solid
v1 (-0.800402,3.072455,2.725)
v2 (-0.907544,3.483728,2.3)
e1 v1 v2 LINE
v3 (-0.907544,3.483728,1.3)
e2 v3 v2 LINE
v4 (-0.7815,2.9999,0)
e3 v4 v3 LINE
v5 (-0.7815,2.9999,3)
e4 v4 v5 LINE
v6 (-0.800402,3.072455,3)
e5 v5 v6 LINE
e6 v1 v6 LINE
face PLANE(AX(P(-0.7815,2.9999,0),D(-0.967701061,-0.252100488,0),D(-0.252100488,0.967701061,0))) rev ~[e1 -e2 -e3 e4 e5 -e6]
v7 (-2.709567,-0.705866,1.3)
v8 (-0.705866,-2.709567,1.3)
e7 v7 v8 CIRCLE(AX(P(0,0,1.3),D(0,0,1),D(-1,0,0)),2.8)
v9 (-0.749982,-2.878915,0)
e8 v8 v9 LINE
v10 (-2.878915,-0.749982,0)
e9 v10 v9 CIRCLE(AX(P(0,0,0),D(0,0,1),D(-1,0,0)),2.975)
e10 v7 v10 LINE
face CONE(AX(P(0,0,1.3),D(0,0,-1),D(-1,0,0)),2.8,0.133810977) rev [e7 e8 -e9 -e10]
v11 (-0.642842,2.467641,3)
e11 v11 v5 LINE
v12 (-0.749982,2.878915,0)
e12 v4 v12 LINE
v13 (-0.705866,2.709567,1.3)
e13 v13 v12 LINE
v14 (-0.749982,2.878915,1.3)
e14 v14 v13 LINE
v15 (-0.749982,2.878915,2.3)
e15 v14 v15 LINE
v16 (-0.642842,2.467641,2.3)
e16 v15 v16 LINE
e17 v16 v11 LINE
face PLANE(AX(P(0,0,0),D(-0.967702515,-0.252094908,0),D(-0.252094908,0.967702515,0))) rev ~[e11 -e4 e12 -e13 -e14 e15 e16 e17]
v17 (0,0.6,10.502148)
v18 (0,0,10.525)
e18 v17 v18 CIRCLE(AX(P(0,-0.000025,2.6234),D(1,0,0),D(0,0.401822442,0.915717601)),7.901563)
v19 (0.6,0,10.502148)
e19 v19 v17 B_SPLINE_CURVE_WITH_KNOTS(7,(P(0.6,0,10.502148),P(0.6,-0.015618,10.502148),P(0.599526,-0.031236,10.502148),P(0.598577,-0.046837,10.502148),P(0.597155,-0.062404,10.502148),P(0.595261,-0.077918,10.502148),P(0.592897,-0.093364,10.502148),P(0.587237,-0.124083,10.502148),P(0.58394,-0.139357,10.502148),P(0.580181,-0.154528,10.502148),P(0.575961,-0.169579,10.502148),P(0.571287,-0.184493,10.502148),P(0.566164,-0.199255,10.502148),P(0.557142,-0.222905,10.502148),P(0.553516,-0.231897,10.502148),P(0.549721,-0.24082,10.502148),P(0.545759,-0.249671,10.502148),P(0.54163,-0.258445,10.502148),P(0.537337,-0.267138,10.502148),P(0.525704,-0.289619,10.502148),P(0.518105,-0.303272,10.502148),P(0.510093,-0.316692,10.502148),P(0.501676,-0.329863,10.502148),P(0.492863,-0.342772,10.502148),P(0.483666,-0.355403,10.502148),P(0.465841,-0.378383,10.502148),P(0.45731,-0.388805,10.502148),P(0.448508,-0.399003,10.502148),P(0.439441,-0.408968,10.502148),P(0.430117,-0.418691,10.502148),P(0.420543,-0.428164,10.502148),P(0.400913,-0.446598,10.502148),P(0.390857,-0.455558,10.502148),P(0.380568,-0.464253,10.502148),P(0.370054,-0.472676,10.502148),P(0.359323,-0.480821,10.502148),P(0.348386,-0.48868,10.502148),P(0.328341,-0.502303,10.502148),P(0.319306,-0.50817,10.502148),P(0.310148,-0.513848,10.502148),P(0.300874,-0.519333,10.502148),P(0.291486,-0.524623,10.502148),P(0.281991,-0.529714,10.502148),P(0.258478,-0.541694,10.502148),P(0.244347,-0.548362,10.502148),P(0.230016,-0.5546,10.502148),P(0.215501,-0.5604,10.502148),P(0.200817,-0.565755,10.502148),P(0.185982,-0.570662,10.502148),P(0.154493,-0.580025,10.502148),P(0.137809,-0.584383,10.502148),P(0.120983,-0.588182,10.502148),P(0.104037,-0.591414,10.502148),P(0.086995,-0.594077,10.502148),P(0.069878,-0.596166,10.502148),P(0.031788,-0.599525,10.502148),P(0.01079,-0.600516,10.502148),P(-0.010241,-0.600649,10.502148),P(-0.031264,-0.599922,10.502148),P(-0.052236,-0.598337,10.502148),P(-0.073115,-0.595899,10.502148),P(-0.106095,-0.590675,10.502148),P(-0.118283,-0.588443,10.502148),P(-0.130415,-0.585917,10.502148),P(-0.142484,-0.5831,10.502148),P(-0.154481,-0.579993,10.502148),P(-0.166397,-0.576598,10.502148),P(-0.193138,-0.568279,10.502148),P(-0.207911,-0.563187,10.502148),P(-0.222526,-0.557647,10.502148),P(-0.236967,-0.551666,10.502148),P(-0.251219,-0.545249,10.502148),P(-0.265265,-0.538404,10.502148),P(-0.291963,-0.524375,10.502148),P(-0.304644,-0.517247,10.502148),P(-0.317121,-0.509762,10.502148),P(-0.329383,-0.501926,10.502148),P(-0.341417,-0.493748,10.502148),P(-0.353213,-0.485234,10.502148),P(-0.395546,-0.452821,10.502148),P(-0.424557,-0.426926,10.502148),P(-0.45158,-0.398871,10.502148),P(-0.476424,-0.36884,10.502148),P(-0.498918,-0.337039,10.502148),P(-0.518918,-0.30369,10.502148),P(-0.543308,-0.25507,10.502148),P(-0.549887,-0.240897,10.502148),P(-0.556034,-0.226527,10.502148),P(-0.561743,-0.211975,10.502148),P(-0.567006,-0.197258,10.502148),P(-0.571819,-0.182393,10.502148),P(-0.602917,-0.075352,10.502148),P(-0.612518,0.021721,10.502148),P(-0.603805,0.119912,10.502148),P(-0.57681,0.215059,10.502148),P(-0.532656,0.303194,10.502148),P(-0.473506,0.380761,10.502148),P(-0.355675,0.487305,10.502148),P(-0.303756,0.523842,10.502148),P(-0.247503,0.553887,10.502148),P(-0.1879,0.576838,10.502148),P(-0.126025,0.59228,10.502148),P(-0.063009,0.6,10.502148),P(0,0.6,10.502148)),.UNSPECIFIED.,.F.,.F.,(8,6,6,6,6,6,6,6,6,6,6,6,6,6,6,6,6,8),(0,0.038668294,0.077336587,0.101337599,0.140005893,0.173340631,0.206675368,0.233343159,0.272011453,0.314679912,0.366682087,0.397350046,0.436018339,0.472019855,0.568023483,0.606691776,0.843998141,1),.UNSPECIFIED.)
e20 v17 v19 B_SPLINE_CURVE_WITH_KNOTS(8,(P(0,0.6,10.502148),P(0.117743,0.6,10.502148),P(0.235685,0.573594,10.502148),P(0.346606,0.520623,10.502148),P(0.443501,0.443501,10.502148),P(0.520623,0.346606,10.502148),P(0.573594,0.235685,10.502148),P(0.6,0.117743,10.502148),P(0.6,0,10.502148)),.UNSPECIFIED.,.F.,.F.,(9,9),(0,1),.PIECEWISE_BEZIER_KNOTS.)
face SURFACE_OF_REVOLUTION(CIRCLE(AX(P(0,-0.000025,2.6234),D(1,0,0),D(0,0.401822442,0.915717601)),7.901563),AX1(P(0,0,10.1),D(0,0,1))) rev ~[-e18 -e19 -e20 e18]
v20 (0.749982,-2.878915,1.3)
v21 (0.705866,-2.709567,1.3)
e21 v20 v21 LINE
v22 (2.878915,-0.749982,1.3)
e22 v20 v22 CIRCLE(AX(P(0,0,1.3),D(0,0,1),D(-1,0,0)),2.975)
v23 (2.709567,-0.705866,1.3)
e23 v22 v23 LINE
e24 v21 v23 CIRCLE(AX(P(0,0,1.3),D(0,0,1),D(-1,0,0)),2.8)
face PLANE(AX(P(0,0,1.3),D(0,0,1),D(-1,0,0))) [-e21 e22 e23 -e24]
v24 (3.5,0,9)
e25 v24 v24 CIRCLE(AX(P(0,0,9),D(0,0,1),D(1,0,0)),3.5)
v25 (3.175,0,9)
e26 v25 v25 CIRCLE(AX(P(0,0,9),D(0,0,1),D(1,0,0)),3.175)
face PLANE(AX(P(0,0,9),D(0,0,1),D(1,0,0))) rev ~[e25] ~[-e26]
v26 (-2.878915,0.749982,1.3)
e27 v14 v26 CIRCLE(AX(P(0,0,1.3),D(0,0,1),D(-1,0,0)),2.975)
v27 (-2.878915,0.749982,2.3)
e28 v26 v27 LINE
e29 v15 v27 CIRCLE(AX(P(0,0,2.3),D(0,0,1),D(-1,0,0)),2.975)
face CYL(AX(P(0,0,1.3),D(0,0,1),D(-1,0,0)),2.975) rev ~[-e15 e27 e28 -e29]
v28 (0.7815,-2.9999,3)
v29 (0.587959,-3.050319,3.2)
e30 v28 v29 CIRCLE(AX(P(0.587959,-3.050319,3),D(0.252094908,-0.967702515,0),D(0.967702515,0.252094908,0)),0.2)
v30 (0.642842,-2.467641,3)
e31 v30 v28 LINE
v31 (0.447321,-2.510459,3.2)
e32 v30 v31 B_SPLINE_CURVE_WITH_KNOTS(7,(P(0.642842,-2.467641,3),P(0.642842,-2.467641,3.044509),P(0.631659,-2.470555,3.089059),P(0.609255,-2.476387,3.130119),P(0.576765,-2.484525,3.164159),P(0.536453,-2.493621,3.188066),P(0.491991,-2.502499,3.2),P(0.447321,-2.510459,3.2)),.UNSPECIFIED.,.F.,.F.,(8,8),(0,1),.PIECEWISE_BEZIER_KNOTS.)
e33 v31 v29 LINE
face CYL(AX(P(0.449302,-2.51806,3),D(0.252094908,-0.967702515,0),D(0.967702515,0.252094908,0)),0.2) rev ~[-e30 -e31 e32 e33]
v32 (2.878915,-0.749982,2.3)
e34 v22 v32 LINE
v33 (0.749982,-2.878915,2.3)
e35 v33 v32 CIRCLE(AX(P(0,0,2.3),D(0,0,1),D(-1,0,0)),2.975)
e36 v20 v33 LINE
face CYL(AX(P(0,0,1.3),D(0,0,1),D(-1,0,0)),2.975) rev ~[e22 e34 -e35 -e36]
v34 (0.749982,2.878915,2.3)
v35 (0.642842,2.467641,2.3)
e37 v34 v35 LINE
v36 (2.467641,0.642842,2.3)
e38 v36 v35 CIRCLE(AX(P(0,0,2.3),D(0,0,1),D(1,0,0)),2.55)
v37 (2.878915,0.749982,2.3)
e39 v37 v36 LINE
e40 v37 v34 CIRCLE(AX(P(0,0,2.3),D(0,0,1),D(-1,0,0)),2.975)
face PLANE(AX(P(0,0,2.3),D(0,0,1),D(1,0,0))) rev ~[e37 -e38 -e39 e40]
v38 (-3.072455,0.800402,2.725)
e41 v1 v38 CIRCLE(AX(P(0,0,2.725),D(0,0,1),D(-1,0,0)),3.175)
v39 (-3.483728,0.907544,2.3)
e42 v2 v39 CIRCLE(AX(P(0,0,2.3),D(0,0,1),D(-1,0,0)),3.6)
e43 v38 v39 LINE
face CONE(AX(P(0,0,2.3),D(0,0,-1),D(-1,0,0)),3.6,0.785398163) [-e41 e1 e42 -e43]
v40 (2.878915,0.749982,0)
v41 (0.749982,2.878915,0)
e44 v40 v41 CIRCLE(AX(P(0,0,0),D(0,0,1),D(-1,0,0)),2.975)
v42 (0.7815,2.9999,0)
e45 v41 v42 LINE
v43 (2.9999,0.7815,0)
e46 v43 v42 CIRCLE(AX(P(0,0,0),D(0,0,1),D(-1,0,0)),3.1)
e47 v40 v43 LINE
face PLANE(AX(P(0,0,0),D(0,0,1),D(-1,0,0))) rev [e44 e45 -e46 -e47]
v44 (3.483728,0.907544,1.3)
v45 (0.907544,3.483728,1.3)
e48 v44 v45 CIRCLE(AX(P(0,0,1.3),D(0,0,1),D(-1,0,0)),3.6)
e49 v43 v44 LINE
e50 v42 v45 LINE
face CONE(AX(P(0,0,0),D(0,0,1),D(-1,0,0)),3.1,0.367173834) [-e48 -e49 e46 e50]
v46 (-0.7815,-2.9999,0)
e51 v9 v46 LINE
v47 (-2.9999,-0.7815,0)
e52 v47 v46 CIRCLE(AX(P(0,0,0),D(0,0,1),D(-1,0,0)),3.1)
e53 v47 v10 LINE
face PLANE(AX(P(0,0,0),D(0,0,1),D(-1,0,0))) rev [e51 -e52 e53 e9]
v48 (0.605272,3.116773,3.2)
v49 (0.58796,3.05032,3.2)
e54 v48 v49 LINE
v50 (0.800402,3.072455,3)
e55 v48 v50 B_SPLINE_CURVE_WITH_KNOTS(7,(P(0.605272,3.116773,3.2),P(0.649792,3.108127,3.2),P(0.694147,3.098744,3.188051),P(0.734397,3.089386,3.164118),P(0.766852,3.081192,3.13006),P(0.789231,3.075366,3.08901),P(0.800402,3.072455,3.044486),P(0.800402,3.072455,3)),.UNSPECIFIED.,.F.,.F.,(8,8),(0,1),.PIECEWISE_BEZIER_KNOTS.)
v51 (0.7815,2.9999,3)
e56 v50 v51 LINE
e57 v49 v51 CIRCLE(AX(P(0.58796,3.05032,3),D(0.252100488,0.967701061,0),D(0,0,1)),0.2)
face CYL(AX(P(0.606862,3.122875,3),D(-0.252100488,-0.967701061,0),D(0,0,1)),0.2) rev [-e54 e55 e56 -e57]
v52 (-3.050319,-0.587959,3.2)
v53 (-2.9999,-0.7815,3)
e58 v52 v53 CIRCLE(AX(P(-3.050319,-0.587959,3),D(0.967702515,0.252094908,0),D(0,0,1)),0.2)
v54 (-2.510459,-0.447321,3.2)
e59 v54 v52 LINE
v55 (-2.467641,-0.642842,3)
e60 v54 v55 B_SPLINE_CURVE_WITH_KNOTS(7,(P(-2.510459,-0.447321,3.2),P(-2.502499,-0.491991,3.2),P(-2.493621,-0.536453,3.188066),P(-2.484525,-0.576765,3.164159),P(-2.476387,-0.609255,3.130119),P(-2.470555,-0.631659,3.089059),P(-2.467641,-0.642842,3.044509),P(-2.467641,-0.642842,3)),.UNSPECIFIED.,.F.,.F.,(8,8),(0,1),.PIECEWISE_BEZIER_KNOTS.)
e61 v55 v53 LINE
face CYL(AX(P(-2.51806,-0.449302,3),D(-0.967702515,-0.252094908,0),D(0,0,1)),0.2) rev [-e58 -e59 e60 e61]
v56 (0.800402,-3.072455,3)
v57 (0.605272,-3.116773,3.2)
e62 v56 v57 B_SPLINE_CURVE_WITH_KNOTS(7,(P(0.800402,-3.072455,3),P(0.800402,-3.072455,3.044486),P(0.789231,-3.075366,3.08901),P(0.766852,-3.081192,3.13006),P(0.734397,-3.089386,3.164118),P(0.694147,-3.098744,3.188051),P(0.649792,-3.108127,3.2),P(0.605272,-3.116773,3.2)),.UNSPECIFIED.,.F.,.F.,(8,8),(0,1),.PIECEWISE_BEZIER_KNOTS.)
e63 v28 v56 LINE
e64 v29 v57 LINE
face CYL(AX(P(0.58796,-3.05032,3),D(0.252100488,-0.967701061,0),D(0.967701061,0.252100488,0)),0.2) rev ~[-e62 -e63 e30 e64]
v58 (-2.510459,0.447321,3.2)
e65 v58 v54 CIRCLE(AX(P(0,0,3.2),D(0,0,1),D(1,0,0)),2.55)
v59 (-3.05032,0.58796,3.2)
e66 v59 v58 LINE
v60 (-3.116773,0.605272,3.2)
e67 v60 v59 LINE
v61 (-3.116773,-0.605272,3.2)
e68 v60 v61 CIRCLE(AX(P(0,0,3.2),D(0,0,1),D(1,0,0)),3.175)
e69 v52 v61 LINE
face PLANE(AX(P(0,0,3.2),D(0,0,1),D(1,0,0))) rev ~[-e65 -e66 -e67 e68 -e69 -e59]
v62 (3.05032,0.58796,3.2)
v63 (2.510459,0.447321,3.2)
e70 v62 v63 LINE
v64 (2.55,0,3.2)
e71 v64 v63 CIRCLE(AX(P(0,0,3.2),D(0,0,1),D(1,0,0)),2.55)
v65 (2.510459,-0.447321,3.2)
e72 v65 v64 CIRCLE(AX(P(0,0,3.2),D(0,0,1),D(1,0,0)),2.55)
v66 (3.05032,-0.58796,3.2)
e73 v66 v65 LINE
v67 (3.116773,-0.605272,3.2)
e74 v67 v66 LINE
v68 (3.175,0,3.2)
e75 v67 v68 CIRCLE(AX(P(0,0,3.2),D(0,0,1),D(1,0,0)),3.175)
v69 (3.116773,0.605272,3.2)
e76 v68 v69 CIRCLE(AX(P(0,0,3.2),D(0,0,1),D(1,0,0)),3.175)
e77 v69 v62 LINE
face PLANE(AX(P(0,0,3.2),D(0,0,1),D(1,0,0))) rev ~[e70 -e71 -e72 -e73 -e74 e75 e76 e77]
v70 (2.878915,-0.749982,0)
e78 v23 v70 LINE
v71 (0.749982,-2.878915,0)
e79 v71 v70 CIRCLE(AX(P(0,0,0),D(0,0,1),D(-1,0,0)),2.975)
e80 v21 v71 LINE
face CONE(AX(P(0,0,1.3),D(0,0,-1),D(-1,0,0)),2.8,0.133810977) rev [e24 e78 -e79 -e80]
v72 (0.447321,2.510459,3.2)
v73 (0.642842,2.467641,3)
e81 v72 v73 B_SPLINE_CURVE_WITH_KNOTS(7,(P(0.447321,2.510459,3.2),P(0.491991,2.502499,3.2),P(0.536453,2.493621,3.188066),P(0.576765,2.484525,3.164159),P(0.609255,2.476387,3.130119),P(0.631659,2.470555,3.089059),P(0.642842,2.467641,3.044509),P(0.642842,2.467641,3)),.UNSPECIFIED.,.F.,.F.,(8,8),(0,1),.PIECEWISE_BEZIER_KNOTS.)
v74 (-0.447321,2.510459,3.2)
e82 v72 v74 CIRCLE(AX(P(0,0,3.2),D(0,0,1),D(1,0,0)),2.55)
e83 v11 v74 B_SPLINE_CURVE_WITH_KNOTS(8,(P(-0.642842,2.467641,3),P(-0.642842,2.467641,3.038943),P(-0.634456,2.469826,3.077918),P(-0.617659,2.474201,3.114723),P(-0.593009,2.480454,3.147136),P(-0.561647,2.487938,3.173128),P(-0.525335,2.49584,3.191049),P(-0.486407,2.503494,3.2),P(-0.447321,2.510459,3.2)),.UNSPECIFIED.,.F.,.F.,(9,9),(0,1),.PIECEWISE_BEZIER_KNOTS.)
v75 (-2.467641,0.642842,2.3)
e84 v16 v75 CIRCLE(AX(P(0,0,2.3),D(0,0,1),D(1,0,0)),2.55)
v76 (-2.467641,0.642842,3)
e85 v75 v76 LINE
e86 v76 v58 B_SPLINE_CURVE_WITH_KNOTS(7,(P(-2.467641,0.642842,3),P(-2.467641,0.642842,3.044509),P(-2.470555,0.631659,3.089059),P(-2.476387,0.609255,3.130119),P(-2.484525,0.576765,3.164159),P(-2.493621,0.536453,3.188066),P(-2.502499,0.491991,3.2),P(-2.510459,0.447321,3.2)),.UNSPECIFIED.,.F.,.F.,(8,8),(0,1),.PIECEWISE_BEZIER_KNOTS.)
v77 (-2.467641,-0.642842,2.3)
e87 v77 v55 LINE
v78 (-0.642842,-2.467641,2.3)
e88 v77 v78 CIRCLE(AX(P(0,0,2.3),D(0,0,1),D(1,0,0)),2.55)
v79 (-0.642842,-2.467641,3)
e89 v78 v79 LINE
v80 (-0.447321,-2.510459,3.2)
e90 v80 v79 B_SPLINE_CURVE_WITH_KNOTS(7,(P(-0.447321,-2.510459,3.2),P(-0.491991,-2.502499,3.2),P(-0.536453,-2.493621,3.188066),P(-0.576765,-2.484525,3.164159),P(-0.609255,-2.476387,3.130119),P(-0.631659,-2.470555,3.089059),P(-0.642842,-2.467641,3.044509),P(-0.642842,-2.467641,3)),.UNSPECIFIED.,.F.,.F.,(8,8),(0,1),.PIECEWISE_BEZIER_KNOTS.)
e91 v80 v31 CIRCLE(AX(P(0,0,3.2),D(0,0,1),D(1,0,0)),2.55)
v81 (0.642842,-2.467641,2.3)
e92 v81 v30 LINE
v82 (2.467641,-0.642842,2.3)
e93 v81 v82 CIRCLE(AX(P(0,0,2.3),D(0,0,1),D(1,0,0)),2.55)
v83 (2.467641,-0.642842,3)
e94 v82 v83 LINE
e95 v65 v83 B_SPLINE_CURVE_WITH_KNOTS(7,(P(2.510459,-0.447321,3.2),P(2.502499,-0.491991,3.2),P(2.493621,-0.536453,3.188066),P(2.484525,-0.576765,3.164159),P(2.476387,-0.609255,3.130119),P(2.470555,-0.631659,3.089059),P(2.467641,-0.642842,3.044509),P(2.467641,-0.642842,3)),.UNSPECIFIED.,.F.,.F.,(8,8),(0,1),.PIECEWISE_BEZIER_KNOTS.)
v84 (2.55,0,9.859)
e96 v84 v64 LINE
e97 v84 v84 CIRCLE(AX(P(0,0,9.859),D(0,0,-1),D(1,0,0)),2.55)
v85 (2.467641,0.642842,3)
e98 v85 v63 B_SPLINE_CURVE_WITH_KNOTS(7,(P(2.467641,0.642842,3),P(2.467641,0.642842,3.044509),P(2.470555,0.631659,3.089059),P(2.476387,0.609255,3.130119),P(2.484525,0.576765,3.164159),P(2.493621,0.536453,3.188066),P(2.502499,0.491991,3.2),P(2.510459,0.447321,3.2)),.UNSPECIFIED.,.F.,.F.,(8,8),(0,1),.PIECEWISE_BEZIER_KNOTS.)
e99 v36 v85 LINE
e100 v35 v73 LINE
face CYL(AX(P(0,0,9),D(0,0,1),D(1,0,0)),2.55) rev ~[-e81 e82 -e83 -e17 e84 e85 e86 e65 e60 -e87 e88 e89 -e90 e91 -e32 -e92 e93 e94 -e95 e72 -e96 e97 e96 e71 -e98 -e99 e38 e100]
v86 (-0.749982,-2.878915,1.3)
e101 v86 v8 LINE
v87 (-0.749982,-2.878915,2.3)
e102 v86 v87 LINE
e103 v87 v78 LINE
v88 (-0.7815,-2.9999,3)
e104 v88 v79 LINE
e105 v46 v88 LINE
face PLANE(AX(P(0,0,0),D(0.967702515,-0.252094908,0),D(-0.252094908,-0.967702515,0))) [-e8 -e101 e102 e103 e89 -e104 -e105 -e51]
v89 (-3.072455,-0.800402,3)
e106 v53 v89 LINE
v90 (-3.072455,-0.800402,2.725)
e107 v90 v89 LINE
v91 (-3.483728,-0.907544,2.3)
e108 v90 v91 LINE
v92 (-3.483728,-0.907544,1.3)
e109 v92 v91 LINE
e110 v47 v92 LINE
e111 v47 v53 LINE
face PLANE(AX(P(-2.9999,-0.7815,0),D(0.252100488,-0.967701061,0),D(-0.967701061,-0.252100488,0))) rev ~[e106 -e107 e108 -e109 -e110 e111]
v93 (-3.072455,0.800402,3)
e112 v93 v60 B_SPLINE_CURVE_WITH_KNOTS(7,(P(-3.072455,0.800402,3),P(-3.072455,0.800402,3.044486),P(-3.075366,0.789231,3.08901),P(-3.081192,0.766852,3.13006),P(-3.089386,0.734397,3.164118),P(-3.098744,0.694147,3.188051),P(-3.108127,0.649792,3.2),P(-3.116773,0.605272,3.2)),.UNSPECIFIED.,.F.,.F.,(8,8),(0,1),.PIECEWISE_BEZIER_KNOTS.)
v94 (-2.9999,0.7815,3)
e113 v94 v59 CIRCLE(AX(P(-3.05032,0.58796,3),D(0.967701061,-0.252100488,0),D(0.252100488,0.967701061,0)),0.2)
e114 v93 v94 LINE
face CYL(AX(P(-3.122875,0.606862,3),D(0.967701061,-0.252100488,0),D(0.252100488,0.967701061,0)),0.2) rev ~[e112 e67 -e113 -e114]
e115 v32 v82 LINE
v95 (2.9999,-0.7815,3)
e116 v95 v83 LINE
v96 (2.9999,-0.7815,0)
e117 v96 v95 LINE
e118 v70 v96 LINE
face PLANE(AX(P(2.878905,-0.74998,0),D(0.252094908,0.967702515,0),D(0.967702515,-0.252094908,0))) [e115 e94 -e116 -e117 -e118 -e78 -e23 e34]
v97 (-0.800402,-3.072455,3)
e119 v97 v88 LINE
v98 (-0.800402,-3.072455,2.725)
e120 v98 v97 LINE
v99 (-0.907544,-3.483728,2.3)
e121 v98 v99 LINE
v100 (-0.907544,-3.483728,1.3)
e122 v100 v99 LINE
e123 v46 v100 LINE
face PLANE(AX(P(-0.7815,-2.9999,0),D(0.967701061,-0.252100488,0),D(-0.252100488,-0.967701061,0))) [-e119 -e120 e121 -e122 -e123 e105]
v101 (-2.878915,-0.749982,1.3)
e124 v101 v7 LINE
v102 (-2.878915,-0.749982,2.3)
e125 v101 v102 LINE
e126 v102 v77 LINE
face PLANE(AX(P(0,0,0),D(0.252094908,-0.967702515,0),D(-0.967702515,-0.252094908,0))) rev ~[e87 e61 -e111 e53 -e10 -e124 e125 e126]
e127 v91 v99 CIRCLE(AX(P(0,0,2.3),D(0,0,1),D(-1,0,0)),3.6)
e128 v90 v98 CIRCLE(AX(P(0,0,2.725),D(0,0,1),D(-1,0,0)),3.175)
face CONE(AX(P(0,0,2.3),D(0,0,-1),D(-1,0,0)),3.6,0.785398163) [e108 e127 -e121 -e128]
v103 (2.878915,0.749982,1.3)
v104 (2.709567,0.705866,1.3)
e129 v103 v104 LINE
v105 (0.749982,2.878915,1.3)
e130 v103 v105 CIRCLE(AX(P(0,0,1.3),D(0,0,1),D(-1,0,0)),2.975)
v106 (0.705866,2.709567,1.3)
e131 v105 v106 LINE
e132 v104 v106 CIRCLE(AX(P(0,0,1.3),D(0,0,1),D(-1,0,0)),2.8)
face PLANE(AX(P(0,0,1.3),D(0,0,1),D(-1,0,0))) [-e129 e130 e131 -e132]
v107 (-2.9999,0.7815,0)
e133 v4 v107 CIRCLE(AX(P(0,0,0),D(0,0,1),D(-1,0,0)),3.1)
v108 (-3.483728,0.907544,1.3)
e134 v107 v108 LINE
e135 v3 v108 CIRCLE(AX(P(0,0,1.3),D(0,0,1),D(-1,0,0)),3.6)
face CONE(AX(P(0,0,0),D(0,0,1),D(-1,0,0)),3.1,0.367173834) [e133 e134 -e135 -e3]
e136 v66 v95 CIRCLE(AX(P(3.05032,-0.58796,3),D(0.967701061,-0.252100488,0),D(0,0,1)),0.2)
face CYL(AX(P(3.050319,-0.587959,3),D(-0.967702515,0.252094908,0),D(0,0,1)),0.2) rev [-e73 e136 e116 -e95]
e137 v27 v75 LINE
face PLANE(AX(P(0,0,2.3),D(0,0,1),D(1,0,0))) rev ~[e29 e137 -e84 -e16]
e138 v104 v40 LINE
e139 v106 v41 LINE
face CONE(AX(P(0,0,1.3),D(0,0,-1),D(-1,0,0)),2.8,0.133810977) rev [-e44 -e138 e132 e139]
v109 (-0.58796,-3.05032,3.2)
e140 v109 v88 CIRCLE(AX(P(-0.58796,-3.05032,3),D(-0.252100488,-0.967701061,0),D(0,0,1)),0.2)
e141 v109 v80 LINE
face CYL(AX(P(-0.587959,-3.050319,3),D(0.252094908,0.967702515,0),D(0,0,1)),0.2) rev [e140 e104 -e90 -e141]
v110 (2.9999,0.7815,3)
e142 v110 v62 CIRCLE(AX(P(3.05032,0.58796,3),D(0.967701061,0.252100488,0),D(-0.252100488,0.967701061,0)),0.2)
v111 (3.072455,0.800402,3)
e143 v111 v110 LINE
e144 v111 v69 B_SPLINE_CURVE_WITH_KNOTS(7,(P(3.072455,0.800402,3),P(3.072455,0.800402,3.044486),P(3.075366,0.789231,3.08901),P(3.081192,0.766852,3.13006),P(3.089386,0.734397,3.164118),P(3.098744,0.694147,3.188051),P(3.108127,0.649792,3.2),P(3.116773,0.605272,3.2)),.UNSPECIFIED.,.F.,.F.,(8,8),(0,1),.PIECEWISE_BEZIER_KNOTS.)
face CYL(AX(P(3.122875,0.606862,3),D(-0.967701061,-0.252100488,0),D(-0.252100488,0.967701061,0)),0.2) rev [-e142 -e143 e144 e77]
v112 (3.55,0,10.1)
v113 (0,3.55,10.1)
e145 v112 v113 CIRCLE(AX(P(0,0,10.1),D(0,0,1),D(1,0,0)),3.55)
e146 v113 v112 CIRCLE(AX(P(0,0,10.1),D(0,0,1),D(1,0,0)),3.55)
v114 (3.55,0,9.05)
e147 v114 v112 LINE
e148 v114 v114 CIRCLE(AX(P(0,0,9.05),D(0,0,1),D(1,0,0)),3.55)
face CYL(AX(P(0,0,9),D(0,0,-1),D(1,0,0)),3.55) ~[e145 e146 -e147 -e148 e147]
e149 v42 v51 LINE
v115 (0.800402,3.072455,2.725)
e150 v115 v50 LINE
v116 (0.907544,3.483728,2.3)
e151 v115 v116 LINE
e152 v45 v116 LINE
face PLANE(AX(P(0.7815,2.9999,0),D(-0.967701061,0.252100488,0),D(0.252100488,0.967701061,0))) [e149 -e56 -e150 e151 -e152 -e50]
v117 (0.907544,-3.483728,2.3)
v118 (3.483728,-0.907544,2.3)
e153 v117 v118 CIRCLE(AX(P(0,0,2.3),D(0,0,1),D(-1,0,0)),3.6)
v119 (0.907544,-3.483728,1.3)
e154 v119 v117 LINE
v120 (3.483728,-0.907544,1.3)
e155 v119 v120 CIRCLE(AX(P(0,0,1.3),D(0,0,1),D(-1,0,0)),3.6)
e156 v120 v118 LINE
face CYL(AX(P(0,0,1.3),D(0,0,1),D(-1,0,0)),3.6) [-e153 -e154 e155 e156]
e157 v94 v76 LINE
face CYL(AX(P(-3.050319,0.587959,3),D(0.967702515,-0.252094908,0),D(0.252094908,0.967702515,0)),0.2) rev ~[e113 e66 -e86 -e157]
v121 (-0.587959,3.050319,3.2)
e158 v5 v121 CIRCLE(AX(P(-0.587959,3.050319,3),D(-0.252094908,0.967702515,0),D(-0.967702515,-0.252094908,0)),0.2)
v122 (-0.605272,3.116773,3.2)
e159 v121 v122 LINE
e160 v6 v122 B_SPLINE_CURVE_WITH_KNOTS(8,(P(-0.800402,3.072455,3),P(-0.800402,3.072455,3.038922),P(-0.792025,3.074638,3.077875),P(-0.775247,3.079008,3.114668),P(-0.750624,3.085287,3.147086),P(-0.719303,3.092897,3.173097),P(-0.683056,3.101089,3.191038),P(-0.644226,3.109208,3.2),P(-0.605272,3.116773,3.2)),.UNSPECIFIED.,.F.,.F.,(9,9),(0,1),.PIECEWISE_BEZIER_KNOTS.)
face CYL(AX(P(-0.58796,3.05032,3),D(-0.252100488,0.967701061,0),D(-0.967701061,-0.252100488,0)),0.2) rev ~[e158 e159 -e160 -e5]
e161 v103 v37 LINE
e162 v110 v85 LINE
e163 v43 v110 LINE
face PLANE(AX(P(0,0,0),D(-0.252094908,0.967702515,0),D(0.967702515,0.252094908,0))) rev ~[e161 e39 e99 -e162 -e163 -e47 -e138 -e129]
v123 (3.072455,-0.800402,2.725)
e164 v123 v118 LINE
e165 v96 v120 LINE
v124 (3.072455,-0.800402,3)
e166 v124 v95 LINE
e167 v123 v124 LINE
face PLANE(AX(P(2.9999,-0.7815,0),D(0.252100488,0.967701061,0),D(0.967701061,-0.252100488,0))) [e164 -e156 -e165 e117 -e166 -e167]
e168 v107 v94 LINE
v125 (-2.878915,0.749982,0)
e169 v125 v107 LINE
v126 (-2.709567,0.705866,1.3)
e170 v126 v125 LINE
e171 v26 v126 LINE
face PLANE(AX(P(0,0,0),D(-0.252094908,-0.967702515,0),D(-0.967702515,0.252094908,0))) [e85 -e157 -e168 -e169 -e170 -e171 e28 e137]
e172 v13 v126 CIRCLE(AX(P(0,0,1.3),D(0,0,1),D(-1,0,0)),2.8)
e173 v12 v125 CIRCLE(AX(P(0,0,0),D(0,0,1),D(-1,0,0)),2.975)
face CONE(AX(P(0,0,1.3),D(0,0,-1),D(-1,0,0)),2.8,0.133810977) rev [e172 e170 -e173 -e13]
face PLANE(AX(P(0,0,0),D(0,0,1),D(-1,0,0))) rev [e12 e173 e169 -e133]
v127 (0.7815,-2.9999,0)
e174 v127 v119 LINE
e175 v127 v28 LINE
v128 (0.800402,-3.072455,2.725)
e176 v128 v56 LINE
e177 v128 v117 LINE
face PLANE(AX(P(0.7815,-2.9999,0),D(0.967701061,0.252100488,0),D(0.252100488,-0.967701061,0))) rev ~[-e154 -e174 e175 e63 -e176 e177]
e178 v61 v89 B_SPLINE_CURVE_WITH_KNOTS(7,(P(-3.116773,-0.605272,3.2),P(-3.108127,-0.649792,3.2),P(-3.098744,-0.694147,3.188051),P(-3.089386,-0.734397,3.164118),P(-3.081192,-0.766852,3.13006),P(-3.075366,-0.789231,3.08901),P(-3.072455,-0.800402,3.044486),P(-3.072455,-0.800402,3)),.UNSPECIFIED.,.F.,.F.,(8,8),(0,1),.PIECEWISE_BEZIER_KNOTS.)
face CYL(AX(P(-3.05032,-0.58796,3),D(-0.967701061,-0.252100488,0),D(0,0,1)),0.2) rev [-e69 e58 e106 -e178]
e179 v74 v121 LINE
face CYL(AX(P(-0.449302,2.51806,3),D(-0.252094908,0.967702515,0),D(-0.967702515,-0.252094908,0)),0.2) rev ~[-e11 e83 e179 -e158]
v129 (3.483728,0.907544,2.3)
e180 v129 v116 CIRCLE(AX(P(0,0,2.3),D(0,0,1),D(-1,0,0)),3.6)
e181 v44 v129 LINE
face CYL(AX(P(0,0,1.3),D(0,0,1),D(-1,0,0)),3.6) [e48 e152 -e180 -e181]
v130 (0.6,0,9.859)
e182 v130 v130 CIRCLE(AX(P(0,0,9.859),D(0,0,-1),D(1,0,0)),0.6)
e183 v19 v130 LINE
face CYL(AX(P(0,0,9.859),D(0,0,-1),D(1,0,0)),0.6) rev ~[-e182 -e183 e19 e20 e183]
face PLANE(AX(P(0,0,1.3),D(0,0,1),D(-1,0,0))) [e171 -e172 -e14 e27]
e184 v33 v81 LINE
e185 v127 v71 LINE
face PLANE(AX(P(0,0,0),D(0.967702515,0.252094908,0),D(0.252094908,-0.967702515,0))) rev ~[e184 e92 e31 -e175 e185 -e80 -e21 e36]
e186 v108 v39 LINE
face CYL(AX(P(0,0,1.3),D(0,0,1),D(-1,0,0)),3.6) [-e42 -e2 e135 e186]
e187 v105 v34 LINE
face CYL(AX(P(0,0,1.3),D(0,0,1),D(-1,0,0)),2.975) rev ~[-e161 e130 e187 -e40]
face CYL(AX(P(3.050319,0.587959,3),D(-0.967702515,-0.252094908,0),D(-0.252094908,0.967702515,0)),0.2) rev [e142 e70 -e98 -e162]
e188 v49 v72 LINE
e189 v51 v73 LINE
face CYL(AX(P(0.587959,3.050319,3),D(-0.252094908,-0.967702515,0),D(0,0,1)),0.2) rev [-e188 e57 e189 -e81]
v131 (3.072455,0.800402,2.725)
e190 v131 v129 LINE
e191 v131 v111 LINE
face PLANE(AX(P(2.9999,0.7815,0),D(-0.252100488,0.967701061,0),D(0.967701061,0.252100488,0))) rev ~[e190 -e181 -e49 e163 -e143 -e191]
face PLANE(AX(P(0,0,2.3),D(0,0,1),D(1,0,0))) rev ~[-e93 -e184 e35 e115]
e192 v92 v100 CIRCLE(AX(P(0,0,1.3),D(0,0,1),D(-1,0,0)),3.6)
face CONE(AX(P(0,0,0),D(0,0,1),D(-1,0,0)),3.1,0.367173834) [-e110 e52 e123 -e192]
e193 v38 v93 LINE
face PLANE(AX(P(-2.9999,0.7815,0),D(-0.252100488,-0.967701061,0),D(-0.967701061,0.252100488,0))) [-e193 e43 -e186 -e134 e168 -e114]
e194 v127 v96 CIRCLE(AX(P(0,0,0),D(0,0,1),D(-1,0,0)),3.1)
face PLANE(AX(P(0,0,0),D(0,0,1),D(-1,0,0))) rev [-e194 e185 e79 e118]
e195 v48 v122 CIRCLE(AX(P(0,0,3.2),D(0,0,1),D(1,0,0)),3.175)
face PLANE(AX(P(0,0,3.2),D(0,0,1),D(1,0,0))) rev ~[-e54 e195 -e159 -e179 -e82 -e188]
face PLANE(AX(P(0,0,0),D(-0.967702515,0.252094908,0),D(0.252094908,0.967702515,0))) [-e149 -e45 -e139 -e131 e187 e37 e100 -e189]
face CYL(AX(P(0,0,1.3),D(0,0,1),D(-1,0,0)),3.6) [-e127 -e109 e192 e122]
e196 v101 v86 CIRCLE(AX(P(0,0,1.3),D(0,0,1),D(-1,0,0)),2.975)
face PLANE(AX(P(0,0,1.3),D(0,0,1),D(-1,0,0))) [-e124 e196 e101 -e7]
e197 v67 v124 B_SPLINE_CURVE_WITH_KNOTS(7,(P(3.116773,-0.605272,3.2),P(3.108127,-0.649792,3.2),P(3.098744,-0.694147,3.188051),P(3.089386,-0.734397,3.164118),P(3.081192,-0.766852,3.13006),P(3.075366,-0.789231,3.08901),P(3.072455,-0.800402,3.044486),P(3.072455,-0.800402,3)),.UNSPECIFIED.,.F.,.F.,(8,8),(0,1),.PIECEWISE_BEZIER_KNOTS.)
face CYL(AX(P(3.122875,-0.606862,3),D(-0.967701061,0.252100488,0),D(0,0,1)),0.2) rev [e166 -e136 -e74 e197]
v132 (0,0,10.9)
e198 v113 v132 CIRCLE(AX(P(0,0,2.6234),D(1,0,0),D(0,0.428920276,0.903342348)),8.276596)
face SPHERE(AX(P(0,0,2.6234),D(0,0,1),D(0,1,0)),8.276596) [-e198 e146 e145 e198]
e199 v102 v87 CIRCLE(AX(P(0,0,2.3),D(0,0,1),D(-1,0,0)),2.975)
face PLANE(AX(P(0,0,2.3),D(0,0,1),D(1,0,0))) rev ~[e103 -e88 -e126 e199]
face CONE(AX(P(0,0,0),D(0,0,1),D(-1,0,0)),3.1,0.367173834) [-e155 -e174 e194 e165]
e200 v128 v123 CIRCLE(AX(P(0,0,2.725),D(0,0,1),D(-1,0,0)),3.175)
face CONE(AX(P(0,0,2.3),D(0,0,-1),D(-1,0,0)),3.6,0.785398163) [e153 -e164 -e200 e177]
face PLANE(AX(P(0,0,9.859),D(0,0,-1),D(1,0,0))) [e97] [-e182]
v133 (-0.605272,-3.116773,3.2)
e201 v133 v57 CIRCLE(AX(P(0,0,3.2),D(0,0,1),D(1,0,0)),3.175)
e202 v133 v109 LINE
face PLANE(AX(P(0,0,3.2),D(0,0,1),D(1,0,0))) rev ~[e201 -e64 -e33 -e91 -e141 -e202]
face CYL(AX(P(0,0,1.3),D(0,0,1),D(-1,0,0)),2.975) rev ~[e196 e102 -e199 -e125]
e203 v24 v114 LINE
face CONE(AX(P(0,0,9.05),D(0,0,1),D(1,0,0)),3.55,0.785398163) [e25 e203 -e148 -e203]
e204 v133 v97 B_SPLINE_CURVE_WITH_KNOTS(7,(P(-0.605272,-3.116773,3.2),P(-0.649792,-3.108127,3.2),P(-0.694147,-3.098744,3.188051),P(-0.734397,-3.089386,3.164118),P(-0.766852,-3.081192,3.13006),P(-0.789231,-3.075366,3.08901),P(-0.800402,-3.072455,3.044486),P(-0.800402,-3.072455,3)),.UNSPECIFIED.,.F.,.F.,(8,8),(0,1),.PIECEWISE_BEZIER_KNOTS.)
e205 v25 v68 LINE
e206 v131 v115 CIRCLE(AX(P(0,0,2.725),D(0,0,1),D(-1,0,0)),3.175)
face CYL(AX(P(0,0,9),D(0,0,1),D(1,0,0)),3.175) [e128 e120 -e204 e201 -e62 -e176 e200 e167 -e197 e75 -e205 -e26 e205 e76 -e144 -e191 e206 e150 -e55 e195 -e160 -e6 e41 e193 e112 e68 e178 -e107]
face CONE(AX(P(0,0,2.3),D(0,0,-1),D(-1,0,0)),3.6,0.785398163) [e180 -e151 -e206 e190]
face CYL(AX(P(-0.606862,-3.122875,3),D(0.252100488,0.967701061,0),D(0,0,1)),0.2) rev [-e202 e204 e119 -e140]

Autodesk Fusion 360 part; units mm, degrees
ref_plane "WorkPlane1" through (0, 0, 9) normal (0, 0, 1) x (1, 0, 0)
sketch "Sketch2" plane through (0, 0, 9) normal (0, 0, 1) x (1, 0, 0)
  circle A0 centre (0, 0) radius 3.55
  circle A1 centre (0, 0) radius 3.175
  circle A2 centre (0, 0) radius 2.55
  dimension "d2" = 7.1
  dimension "d3" = 6.35
  dimension "d25" = 5.1
extrude "Extrude1" add sketch "Sketch2" along normal blind 1.1 contours A0
sketch "Sketch4" plane through (0, 0, 0) normal (1, 0, 0) x (0, 1, 0)
  line L0 (0, 10.1) -> (0, 10.9) construction
  arc A0 (3.55, 10.1) -> (-3.55, 10.1) centre (0, 2.6234) ccw
  arc A1 (3.175, 9.859) -> (-3.3892, 9.7612) centre (0, 2.6234) ccw
  line L1 (-3.175, 10.1) -> (3.175, 10.1) construction
  line L2 (3.175, 10.1) -> (3.175, 9.859)
  line L3 (0, 10.9) -> (0, 10.525)
  line L4 (3.175, 10.1) -> (3.55, 10.1)
  dimension "d8" = 0.8
revolve "Revolve1" add sketch "Sketch4" angle 360 about axis through (0, 0, 10.1) along (0, 0, 1)
extrude "Extrude6" add sketch "Sketch2" along normal up to surface contours A1 end surface at (-0.7353, 2.2055, 10.1753)
ref_plane "WorkPlane2" through (0, 0, 9.859) normal (0, 0, -1) x (-1, 0, 0)
sketch "Sketch5" plane through (0, 0, 9.859) normal (0, 0, -1) x (1, 0, 0)
  circle A0 centre (0, 0) radius 3.175
  circle A1 centre (0, 0) radius 2.1
  circle A2 centre (0, 0) radius 1.1
  circle A3 centre (0, 0) radius 0.6
  dimension "d11" = 4.2
  dimension "d12" = 2.2
  dimension "d13" = 1.2
extrude "Extrude3" add sketch "Sketch5" along normal up to surface contours A0 end surface at (-0.5875, 1.7623, 10.3035)
extrude "Extrude4" add sketch "Sketch5" along normal up to surface and the other way blind 0.2 contours A1 end surface at (-0.4825, 1.4472, 10.3763)
extrude "Extrude5" add sketch "Sketch5" along normal up to surface and the other way blind 0.4 contours A2 end surface at (-0.252, 0.4204, 10.5098)
ref_plane "WorkPlane3" through (0, 0, 2.3) normal (0, 0, -1) x (-1, 0, 0)
extrude "Extrude7" add sketch "Sketch2" against normal up to surface (6.7 mm away) contours A1
sketch "Sketch7" plane through (0, 0, 0) normal (0, 1, 0) x (1, 0, 0)
  line L0 (0, 0) -> (-2.975, 0) construction
  line L1 (0, 0) -> (-2.8, 0) construction
  line L2 (0, 0) -> (-3.1, 0) construction
  line L3 (0, 0) -> (-3.6, 0) construction
  line L4 (-2.8, 0) -> (-2.8, -1.3) construction
  line L5 (-2.8, -1.3) -> (-2.975, 0)
  line L6 (-2.975, 0) -> (-3.1, 0)
  line L7 (-2.975, 0) -> (-2.975, -1.3) construction
  line L8 (-2.975, -1.3) -> (-2.8, -1.3)
  line L9 (-3.6, 0) -> (-3.6, -1.3) construction
  line L10 (-3.1, 0) -> (-3.6, -1.3)
  line L11 (-3.175, -2.3) -> (3.175, -2.3)
  line L12 (0, -2.3) -> (-2.55, -2.3) construction
  line L13 (-2.975, -1.3) -> (-2.975, -2.3)
  line L14 (-3.175, -2.3) -> (-3.6677, -2.3) construction
  line L15 (-3.6, -1.3) -> (-3.6, -2.3)
  line L16 (-3.6, -2.3) -> (-3.175, -2.725)
  line L17 (-3.175, -2.3) -> (3.175, -2.3)
  line L18 (-3.55, -9) -> (-3.175, -9)
  line L19 (3.175, -9) -> (3.55, -9)
  line L20 (3.175, -9) -> (3.175, -2.3)
  line L21 (-3.175, -9) -> (-3.175, -2.3)
  arc A0 (-3.55, -10.1) -> (3.55, -10.1) centre (0, -2.6234) ccw
  line L22 (-3.55, -9) -> (-3.55, -10.1)
  line L23 (3.55, -9) -> (3.55, -10.1)
  line L24 (0, 0) -> (0, -2.3) construction
  dimension "d31" = 2.975
  dimension "d32" = 2.8
  dimension "d33" = 3.1
  dimension "d34" = 3.6
  dimension "d35" = 1.3
  dimension "d36" = 2.55
revolve "Revolve2" add sketch "Sketch7" angle 360 about axis through (0, 0, 0) along (0, 0, 1) contours L5 L6 L8 L10 L11 L13 L15 L16 L17 L21
sketch "Sketch8" plane through (0, 0, 0) normal (0, 0, 1) x (1, 0, 0)
  circle A0 centre (0, 0) radius 3.1
  circle A1 centre (0, 0) radius 2.975
  line L0 (0, 0) -> (4.4217, 0) construction
  line L1 (0, 0) -> (2.9999, -0.7815)
  line L2 (2.8789, -0.75) -> (2.8789, 0)
  line L3 (2.9999, -0.7815) -> (4.4217, -1.1519)
  line L4 (4.4217, -1.1519) -> (4.4217, 0)
  line L5 (0, 0) -> (2.9999, 0.7815)
  line L6 (2.9999, 0.7815) -> (4.4217, 1.1519)
  line L7 (4.4217, 1.1519) -> (4.4217, 0)
  line L8 (0, 0) -> (0, -1.5) construction
  line L9 (0, 0) -> (-2.9999, -0.7815)
  line L10 (0, 0) -> (-2.9999, 0.7815)
  line L11 (-2.9999, 0.7815) -> (-4.4217, 1.1519)
  line L12 (-4.4217, 1.1519) -> (-4.4217, 0)
  line L13 (-4.4217, -1.1519) -> (-4.4217, 0)
  line L14 (-2.9999, -0.7815) -> (-4.4217, -1.1519)
  line L15 (-1.1519, -4.4217) -> (0, -4.4217)
  line L16 (0.7815, -2.9999) -> (1.1519, -4.4217)
  line L17 (1.1519, -4.4217) -> (0, -4.4217)
  line L18 (-0.7815, -2.9999) -> (-1.1519, -4.4217)
  line L19 (0, 0) -> (-0.7815, -2.9999)
  line L20 (0, 0) -> (0.7815, -2.9999)
  line L21 (0, 0) -> (0.7815, 2.9999)
  line L22 (0, 0) -> (-0.7815, 2.9999)
  line L23 (0.7815, 2.9999) -> (1.1519, 4.4217)
  line L24 (1.1519, 4.4217) -> (0, 4.4217)
  line L25 (-1.1519, 4.4217) -> (0, 4.4217)
  line L26 (-0.7815, 2.9999) -> (-1.1519, 4.4217)
  dimension "d38" = 0.75
extrude "Extrude8" cut sketch "Sketch8" along normal blind 3.2 contours A0 A1 L1 L5 | A0 L3 L4 L6 L7 | A0 A1 L21 L22 | A0 L23 L24 L25 L26 | A1 L1 L5 | A0 L15 L16 L17 L18 | A0 A1 L19 L20 | A1 L21 L22 | A1 L9 L10 | A1 L19 L20 | A0 A1 L9 L10 | A0 L11 L12 L13 L14
fillet "Fillet1" radius 0.2 8 edges at (-0.7216, 2.77, 3.2) (0.7216, 2.77, 3.2) (-2.77, 0.7216, 3.2) (-2.77, -0.7216, 3.2) (0.7216, -2.77, 3.2) (-0.7216, -2.77, 3.2) (2.77, 0.7216, 3.2) (2.77, -0.7216, 3.2)
chamfer "Chamfer1" distance 0.05 angle 45 1 edges at (-3.3098, -1.2837, 9)
equation "d31 = ( ( 5.8 / 2 ) * 1 mm ) + 0.7 mm - 0.625 mm"
equation "d32 = ( 5.6 / 2 ) * 1 mm"
equation "d33 = 2.9 mm + 0.2 mm"
equation "d34 = d31 + 0.625 mm"
equation "d36 = ( 5.1 / 2 ) * 1 mm"
equation "d38 = ( 1.5 / 2 ) * 1 mm"
